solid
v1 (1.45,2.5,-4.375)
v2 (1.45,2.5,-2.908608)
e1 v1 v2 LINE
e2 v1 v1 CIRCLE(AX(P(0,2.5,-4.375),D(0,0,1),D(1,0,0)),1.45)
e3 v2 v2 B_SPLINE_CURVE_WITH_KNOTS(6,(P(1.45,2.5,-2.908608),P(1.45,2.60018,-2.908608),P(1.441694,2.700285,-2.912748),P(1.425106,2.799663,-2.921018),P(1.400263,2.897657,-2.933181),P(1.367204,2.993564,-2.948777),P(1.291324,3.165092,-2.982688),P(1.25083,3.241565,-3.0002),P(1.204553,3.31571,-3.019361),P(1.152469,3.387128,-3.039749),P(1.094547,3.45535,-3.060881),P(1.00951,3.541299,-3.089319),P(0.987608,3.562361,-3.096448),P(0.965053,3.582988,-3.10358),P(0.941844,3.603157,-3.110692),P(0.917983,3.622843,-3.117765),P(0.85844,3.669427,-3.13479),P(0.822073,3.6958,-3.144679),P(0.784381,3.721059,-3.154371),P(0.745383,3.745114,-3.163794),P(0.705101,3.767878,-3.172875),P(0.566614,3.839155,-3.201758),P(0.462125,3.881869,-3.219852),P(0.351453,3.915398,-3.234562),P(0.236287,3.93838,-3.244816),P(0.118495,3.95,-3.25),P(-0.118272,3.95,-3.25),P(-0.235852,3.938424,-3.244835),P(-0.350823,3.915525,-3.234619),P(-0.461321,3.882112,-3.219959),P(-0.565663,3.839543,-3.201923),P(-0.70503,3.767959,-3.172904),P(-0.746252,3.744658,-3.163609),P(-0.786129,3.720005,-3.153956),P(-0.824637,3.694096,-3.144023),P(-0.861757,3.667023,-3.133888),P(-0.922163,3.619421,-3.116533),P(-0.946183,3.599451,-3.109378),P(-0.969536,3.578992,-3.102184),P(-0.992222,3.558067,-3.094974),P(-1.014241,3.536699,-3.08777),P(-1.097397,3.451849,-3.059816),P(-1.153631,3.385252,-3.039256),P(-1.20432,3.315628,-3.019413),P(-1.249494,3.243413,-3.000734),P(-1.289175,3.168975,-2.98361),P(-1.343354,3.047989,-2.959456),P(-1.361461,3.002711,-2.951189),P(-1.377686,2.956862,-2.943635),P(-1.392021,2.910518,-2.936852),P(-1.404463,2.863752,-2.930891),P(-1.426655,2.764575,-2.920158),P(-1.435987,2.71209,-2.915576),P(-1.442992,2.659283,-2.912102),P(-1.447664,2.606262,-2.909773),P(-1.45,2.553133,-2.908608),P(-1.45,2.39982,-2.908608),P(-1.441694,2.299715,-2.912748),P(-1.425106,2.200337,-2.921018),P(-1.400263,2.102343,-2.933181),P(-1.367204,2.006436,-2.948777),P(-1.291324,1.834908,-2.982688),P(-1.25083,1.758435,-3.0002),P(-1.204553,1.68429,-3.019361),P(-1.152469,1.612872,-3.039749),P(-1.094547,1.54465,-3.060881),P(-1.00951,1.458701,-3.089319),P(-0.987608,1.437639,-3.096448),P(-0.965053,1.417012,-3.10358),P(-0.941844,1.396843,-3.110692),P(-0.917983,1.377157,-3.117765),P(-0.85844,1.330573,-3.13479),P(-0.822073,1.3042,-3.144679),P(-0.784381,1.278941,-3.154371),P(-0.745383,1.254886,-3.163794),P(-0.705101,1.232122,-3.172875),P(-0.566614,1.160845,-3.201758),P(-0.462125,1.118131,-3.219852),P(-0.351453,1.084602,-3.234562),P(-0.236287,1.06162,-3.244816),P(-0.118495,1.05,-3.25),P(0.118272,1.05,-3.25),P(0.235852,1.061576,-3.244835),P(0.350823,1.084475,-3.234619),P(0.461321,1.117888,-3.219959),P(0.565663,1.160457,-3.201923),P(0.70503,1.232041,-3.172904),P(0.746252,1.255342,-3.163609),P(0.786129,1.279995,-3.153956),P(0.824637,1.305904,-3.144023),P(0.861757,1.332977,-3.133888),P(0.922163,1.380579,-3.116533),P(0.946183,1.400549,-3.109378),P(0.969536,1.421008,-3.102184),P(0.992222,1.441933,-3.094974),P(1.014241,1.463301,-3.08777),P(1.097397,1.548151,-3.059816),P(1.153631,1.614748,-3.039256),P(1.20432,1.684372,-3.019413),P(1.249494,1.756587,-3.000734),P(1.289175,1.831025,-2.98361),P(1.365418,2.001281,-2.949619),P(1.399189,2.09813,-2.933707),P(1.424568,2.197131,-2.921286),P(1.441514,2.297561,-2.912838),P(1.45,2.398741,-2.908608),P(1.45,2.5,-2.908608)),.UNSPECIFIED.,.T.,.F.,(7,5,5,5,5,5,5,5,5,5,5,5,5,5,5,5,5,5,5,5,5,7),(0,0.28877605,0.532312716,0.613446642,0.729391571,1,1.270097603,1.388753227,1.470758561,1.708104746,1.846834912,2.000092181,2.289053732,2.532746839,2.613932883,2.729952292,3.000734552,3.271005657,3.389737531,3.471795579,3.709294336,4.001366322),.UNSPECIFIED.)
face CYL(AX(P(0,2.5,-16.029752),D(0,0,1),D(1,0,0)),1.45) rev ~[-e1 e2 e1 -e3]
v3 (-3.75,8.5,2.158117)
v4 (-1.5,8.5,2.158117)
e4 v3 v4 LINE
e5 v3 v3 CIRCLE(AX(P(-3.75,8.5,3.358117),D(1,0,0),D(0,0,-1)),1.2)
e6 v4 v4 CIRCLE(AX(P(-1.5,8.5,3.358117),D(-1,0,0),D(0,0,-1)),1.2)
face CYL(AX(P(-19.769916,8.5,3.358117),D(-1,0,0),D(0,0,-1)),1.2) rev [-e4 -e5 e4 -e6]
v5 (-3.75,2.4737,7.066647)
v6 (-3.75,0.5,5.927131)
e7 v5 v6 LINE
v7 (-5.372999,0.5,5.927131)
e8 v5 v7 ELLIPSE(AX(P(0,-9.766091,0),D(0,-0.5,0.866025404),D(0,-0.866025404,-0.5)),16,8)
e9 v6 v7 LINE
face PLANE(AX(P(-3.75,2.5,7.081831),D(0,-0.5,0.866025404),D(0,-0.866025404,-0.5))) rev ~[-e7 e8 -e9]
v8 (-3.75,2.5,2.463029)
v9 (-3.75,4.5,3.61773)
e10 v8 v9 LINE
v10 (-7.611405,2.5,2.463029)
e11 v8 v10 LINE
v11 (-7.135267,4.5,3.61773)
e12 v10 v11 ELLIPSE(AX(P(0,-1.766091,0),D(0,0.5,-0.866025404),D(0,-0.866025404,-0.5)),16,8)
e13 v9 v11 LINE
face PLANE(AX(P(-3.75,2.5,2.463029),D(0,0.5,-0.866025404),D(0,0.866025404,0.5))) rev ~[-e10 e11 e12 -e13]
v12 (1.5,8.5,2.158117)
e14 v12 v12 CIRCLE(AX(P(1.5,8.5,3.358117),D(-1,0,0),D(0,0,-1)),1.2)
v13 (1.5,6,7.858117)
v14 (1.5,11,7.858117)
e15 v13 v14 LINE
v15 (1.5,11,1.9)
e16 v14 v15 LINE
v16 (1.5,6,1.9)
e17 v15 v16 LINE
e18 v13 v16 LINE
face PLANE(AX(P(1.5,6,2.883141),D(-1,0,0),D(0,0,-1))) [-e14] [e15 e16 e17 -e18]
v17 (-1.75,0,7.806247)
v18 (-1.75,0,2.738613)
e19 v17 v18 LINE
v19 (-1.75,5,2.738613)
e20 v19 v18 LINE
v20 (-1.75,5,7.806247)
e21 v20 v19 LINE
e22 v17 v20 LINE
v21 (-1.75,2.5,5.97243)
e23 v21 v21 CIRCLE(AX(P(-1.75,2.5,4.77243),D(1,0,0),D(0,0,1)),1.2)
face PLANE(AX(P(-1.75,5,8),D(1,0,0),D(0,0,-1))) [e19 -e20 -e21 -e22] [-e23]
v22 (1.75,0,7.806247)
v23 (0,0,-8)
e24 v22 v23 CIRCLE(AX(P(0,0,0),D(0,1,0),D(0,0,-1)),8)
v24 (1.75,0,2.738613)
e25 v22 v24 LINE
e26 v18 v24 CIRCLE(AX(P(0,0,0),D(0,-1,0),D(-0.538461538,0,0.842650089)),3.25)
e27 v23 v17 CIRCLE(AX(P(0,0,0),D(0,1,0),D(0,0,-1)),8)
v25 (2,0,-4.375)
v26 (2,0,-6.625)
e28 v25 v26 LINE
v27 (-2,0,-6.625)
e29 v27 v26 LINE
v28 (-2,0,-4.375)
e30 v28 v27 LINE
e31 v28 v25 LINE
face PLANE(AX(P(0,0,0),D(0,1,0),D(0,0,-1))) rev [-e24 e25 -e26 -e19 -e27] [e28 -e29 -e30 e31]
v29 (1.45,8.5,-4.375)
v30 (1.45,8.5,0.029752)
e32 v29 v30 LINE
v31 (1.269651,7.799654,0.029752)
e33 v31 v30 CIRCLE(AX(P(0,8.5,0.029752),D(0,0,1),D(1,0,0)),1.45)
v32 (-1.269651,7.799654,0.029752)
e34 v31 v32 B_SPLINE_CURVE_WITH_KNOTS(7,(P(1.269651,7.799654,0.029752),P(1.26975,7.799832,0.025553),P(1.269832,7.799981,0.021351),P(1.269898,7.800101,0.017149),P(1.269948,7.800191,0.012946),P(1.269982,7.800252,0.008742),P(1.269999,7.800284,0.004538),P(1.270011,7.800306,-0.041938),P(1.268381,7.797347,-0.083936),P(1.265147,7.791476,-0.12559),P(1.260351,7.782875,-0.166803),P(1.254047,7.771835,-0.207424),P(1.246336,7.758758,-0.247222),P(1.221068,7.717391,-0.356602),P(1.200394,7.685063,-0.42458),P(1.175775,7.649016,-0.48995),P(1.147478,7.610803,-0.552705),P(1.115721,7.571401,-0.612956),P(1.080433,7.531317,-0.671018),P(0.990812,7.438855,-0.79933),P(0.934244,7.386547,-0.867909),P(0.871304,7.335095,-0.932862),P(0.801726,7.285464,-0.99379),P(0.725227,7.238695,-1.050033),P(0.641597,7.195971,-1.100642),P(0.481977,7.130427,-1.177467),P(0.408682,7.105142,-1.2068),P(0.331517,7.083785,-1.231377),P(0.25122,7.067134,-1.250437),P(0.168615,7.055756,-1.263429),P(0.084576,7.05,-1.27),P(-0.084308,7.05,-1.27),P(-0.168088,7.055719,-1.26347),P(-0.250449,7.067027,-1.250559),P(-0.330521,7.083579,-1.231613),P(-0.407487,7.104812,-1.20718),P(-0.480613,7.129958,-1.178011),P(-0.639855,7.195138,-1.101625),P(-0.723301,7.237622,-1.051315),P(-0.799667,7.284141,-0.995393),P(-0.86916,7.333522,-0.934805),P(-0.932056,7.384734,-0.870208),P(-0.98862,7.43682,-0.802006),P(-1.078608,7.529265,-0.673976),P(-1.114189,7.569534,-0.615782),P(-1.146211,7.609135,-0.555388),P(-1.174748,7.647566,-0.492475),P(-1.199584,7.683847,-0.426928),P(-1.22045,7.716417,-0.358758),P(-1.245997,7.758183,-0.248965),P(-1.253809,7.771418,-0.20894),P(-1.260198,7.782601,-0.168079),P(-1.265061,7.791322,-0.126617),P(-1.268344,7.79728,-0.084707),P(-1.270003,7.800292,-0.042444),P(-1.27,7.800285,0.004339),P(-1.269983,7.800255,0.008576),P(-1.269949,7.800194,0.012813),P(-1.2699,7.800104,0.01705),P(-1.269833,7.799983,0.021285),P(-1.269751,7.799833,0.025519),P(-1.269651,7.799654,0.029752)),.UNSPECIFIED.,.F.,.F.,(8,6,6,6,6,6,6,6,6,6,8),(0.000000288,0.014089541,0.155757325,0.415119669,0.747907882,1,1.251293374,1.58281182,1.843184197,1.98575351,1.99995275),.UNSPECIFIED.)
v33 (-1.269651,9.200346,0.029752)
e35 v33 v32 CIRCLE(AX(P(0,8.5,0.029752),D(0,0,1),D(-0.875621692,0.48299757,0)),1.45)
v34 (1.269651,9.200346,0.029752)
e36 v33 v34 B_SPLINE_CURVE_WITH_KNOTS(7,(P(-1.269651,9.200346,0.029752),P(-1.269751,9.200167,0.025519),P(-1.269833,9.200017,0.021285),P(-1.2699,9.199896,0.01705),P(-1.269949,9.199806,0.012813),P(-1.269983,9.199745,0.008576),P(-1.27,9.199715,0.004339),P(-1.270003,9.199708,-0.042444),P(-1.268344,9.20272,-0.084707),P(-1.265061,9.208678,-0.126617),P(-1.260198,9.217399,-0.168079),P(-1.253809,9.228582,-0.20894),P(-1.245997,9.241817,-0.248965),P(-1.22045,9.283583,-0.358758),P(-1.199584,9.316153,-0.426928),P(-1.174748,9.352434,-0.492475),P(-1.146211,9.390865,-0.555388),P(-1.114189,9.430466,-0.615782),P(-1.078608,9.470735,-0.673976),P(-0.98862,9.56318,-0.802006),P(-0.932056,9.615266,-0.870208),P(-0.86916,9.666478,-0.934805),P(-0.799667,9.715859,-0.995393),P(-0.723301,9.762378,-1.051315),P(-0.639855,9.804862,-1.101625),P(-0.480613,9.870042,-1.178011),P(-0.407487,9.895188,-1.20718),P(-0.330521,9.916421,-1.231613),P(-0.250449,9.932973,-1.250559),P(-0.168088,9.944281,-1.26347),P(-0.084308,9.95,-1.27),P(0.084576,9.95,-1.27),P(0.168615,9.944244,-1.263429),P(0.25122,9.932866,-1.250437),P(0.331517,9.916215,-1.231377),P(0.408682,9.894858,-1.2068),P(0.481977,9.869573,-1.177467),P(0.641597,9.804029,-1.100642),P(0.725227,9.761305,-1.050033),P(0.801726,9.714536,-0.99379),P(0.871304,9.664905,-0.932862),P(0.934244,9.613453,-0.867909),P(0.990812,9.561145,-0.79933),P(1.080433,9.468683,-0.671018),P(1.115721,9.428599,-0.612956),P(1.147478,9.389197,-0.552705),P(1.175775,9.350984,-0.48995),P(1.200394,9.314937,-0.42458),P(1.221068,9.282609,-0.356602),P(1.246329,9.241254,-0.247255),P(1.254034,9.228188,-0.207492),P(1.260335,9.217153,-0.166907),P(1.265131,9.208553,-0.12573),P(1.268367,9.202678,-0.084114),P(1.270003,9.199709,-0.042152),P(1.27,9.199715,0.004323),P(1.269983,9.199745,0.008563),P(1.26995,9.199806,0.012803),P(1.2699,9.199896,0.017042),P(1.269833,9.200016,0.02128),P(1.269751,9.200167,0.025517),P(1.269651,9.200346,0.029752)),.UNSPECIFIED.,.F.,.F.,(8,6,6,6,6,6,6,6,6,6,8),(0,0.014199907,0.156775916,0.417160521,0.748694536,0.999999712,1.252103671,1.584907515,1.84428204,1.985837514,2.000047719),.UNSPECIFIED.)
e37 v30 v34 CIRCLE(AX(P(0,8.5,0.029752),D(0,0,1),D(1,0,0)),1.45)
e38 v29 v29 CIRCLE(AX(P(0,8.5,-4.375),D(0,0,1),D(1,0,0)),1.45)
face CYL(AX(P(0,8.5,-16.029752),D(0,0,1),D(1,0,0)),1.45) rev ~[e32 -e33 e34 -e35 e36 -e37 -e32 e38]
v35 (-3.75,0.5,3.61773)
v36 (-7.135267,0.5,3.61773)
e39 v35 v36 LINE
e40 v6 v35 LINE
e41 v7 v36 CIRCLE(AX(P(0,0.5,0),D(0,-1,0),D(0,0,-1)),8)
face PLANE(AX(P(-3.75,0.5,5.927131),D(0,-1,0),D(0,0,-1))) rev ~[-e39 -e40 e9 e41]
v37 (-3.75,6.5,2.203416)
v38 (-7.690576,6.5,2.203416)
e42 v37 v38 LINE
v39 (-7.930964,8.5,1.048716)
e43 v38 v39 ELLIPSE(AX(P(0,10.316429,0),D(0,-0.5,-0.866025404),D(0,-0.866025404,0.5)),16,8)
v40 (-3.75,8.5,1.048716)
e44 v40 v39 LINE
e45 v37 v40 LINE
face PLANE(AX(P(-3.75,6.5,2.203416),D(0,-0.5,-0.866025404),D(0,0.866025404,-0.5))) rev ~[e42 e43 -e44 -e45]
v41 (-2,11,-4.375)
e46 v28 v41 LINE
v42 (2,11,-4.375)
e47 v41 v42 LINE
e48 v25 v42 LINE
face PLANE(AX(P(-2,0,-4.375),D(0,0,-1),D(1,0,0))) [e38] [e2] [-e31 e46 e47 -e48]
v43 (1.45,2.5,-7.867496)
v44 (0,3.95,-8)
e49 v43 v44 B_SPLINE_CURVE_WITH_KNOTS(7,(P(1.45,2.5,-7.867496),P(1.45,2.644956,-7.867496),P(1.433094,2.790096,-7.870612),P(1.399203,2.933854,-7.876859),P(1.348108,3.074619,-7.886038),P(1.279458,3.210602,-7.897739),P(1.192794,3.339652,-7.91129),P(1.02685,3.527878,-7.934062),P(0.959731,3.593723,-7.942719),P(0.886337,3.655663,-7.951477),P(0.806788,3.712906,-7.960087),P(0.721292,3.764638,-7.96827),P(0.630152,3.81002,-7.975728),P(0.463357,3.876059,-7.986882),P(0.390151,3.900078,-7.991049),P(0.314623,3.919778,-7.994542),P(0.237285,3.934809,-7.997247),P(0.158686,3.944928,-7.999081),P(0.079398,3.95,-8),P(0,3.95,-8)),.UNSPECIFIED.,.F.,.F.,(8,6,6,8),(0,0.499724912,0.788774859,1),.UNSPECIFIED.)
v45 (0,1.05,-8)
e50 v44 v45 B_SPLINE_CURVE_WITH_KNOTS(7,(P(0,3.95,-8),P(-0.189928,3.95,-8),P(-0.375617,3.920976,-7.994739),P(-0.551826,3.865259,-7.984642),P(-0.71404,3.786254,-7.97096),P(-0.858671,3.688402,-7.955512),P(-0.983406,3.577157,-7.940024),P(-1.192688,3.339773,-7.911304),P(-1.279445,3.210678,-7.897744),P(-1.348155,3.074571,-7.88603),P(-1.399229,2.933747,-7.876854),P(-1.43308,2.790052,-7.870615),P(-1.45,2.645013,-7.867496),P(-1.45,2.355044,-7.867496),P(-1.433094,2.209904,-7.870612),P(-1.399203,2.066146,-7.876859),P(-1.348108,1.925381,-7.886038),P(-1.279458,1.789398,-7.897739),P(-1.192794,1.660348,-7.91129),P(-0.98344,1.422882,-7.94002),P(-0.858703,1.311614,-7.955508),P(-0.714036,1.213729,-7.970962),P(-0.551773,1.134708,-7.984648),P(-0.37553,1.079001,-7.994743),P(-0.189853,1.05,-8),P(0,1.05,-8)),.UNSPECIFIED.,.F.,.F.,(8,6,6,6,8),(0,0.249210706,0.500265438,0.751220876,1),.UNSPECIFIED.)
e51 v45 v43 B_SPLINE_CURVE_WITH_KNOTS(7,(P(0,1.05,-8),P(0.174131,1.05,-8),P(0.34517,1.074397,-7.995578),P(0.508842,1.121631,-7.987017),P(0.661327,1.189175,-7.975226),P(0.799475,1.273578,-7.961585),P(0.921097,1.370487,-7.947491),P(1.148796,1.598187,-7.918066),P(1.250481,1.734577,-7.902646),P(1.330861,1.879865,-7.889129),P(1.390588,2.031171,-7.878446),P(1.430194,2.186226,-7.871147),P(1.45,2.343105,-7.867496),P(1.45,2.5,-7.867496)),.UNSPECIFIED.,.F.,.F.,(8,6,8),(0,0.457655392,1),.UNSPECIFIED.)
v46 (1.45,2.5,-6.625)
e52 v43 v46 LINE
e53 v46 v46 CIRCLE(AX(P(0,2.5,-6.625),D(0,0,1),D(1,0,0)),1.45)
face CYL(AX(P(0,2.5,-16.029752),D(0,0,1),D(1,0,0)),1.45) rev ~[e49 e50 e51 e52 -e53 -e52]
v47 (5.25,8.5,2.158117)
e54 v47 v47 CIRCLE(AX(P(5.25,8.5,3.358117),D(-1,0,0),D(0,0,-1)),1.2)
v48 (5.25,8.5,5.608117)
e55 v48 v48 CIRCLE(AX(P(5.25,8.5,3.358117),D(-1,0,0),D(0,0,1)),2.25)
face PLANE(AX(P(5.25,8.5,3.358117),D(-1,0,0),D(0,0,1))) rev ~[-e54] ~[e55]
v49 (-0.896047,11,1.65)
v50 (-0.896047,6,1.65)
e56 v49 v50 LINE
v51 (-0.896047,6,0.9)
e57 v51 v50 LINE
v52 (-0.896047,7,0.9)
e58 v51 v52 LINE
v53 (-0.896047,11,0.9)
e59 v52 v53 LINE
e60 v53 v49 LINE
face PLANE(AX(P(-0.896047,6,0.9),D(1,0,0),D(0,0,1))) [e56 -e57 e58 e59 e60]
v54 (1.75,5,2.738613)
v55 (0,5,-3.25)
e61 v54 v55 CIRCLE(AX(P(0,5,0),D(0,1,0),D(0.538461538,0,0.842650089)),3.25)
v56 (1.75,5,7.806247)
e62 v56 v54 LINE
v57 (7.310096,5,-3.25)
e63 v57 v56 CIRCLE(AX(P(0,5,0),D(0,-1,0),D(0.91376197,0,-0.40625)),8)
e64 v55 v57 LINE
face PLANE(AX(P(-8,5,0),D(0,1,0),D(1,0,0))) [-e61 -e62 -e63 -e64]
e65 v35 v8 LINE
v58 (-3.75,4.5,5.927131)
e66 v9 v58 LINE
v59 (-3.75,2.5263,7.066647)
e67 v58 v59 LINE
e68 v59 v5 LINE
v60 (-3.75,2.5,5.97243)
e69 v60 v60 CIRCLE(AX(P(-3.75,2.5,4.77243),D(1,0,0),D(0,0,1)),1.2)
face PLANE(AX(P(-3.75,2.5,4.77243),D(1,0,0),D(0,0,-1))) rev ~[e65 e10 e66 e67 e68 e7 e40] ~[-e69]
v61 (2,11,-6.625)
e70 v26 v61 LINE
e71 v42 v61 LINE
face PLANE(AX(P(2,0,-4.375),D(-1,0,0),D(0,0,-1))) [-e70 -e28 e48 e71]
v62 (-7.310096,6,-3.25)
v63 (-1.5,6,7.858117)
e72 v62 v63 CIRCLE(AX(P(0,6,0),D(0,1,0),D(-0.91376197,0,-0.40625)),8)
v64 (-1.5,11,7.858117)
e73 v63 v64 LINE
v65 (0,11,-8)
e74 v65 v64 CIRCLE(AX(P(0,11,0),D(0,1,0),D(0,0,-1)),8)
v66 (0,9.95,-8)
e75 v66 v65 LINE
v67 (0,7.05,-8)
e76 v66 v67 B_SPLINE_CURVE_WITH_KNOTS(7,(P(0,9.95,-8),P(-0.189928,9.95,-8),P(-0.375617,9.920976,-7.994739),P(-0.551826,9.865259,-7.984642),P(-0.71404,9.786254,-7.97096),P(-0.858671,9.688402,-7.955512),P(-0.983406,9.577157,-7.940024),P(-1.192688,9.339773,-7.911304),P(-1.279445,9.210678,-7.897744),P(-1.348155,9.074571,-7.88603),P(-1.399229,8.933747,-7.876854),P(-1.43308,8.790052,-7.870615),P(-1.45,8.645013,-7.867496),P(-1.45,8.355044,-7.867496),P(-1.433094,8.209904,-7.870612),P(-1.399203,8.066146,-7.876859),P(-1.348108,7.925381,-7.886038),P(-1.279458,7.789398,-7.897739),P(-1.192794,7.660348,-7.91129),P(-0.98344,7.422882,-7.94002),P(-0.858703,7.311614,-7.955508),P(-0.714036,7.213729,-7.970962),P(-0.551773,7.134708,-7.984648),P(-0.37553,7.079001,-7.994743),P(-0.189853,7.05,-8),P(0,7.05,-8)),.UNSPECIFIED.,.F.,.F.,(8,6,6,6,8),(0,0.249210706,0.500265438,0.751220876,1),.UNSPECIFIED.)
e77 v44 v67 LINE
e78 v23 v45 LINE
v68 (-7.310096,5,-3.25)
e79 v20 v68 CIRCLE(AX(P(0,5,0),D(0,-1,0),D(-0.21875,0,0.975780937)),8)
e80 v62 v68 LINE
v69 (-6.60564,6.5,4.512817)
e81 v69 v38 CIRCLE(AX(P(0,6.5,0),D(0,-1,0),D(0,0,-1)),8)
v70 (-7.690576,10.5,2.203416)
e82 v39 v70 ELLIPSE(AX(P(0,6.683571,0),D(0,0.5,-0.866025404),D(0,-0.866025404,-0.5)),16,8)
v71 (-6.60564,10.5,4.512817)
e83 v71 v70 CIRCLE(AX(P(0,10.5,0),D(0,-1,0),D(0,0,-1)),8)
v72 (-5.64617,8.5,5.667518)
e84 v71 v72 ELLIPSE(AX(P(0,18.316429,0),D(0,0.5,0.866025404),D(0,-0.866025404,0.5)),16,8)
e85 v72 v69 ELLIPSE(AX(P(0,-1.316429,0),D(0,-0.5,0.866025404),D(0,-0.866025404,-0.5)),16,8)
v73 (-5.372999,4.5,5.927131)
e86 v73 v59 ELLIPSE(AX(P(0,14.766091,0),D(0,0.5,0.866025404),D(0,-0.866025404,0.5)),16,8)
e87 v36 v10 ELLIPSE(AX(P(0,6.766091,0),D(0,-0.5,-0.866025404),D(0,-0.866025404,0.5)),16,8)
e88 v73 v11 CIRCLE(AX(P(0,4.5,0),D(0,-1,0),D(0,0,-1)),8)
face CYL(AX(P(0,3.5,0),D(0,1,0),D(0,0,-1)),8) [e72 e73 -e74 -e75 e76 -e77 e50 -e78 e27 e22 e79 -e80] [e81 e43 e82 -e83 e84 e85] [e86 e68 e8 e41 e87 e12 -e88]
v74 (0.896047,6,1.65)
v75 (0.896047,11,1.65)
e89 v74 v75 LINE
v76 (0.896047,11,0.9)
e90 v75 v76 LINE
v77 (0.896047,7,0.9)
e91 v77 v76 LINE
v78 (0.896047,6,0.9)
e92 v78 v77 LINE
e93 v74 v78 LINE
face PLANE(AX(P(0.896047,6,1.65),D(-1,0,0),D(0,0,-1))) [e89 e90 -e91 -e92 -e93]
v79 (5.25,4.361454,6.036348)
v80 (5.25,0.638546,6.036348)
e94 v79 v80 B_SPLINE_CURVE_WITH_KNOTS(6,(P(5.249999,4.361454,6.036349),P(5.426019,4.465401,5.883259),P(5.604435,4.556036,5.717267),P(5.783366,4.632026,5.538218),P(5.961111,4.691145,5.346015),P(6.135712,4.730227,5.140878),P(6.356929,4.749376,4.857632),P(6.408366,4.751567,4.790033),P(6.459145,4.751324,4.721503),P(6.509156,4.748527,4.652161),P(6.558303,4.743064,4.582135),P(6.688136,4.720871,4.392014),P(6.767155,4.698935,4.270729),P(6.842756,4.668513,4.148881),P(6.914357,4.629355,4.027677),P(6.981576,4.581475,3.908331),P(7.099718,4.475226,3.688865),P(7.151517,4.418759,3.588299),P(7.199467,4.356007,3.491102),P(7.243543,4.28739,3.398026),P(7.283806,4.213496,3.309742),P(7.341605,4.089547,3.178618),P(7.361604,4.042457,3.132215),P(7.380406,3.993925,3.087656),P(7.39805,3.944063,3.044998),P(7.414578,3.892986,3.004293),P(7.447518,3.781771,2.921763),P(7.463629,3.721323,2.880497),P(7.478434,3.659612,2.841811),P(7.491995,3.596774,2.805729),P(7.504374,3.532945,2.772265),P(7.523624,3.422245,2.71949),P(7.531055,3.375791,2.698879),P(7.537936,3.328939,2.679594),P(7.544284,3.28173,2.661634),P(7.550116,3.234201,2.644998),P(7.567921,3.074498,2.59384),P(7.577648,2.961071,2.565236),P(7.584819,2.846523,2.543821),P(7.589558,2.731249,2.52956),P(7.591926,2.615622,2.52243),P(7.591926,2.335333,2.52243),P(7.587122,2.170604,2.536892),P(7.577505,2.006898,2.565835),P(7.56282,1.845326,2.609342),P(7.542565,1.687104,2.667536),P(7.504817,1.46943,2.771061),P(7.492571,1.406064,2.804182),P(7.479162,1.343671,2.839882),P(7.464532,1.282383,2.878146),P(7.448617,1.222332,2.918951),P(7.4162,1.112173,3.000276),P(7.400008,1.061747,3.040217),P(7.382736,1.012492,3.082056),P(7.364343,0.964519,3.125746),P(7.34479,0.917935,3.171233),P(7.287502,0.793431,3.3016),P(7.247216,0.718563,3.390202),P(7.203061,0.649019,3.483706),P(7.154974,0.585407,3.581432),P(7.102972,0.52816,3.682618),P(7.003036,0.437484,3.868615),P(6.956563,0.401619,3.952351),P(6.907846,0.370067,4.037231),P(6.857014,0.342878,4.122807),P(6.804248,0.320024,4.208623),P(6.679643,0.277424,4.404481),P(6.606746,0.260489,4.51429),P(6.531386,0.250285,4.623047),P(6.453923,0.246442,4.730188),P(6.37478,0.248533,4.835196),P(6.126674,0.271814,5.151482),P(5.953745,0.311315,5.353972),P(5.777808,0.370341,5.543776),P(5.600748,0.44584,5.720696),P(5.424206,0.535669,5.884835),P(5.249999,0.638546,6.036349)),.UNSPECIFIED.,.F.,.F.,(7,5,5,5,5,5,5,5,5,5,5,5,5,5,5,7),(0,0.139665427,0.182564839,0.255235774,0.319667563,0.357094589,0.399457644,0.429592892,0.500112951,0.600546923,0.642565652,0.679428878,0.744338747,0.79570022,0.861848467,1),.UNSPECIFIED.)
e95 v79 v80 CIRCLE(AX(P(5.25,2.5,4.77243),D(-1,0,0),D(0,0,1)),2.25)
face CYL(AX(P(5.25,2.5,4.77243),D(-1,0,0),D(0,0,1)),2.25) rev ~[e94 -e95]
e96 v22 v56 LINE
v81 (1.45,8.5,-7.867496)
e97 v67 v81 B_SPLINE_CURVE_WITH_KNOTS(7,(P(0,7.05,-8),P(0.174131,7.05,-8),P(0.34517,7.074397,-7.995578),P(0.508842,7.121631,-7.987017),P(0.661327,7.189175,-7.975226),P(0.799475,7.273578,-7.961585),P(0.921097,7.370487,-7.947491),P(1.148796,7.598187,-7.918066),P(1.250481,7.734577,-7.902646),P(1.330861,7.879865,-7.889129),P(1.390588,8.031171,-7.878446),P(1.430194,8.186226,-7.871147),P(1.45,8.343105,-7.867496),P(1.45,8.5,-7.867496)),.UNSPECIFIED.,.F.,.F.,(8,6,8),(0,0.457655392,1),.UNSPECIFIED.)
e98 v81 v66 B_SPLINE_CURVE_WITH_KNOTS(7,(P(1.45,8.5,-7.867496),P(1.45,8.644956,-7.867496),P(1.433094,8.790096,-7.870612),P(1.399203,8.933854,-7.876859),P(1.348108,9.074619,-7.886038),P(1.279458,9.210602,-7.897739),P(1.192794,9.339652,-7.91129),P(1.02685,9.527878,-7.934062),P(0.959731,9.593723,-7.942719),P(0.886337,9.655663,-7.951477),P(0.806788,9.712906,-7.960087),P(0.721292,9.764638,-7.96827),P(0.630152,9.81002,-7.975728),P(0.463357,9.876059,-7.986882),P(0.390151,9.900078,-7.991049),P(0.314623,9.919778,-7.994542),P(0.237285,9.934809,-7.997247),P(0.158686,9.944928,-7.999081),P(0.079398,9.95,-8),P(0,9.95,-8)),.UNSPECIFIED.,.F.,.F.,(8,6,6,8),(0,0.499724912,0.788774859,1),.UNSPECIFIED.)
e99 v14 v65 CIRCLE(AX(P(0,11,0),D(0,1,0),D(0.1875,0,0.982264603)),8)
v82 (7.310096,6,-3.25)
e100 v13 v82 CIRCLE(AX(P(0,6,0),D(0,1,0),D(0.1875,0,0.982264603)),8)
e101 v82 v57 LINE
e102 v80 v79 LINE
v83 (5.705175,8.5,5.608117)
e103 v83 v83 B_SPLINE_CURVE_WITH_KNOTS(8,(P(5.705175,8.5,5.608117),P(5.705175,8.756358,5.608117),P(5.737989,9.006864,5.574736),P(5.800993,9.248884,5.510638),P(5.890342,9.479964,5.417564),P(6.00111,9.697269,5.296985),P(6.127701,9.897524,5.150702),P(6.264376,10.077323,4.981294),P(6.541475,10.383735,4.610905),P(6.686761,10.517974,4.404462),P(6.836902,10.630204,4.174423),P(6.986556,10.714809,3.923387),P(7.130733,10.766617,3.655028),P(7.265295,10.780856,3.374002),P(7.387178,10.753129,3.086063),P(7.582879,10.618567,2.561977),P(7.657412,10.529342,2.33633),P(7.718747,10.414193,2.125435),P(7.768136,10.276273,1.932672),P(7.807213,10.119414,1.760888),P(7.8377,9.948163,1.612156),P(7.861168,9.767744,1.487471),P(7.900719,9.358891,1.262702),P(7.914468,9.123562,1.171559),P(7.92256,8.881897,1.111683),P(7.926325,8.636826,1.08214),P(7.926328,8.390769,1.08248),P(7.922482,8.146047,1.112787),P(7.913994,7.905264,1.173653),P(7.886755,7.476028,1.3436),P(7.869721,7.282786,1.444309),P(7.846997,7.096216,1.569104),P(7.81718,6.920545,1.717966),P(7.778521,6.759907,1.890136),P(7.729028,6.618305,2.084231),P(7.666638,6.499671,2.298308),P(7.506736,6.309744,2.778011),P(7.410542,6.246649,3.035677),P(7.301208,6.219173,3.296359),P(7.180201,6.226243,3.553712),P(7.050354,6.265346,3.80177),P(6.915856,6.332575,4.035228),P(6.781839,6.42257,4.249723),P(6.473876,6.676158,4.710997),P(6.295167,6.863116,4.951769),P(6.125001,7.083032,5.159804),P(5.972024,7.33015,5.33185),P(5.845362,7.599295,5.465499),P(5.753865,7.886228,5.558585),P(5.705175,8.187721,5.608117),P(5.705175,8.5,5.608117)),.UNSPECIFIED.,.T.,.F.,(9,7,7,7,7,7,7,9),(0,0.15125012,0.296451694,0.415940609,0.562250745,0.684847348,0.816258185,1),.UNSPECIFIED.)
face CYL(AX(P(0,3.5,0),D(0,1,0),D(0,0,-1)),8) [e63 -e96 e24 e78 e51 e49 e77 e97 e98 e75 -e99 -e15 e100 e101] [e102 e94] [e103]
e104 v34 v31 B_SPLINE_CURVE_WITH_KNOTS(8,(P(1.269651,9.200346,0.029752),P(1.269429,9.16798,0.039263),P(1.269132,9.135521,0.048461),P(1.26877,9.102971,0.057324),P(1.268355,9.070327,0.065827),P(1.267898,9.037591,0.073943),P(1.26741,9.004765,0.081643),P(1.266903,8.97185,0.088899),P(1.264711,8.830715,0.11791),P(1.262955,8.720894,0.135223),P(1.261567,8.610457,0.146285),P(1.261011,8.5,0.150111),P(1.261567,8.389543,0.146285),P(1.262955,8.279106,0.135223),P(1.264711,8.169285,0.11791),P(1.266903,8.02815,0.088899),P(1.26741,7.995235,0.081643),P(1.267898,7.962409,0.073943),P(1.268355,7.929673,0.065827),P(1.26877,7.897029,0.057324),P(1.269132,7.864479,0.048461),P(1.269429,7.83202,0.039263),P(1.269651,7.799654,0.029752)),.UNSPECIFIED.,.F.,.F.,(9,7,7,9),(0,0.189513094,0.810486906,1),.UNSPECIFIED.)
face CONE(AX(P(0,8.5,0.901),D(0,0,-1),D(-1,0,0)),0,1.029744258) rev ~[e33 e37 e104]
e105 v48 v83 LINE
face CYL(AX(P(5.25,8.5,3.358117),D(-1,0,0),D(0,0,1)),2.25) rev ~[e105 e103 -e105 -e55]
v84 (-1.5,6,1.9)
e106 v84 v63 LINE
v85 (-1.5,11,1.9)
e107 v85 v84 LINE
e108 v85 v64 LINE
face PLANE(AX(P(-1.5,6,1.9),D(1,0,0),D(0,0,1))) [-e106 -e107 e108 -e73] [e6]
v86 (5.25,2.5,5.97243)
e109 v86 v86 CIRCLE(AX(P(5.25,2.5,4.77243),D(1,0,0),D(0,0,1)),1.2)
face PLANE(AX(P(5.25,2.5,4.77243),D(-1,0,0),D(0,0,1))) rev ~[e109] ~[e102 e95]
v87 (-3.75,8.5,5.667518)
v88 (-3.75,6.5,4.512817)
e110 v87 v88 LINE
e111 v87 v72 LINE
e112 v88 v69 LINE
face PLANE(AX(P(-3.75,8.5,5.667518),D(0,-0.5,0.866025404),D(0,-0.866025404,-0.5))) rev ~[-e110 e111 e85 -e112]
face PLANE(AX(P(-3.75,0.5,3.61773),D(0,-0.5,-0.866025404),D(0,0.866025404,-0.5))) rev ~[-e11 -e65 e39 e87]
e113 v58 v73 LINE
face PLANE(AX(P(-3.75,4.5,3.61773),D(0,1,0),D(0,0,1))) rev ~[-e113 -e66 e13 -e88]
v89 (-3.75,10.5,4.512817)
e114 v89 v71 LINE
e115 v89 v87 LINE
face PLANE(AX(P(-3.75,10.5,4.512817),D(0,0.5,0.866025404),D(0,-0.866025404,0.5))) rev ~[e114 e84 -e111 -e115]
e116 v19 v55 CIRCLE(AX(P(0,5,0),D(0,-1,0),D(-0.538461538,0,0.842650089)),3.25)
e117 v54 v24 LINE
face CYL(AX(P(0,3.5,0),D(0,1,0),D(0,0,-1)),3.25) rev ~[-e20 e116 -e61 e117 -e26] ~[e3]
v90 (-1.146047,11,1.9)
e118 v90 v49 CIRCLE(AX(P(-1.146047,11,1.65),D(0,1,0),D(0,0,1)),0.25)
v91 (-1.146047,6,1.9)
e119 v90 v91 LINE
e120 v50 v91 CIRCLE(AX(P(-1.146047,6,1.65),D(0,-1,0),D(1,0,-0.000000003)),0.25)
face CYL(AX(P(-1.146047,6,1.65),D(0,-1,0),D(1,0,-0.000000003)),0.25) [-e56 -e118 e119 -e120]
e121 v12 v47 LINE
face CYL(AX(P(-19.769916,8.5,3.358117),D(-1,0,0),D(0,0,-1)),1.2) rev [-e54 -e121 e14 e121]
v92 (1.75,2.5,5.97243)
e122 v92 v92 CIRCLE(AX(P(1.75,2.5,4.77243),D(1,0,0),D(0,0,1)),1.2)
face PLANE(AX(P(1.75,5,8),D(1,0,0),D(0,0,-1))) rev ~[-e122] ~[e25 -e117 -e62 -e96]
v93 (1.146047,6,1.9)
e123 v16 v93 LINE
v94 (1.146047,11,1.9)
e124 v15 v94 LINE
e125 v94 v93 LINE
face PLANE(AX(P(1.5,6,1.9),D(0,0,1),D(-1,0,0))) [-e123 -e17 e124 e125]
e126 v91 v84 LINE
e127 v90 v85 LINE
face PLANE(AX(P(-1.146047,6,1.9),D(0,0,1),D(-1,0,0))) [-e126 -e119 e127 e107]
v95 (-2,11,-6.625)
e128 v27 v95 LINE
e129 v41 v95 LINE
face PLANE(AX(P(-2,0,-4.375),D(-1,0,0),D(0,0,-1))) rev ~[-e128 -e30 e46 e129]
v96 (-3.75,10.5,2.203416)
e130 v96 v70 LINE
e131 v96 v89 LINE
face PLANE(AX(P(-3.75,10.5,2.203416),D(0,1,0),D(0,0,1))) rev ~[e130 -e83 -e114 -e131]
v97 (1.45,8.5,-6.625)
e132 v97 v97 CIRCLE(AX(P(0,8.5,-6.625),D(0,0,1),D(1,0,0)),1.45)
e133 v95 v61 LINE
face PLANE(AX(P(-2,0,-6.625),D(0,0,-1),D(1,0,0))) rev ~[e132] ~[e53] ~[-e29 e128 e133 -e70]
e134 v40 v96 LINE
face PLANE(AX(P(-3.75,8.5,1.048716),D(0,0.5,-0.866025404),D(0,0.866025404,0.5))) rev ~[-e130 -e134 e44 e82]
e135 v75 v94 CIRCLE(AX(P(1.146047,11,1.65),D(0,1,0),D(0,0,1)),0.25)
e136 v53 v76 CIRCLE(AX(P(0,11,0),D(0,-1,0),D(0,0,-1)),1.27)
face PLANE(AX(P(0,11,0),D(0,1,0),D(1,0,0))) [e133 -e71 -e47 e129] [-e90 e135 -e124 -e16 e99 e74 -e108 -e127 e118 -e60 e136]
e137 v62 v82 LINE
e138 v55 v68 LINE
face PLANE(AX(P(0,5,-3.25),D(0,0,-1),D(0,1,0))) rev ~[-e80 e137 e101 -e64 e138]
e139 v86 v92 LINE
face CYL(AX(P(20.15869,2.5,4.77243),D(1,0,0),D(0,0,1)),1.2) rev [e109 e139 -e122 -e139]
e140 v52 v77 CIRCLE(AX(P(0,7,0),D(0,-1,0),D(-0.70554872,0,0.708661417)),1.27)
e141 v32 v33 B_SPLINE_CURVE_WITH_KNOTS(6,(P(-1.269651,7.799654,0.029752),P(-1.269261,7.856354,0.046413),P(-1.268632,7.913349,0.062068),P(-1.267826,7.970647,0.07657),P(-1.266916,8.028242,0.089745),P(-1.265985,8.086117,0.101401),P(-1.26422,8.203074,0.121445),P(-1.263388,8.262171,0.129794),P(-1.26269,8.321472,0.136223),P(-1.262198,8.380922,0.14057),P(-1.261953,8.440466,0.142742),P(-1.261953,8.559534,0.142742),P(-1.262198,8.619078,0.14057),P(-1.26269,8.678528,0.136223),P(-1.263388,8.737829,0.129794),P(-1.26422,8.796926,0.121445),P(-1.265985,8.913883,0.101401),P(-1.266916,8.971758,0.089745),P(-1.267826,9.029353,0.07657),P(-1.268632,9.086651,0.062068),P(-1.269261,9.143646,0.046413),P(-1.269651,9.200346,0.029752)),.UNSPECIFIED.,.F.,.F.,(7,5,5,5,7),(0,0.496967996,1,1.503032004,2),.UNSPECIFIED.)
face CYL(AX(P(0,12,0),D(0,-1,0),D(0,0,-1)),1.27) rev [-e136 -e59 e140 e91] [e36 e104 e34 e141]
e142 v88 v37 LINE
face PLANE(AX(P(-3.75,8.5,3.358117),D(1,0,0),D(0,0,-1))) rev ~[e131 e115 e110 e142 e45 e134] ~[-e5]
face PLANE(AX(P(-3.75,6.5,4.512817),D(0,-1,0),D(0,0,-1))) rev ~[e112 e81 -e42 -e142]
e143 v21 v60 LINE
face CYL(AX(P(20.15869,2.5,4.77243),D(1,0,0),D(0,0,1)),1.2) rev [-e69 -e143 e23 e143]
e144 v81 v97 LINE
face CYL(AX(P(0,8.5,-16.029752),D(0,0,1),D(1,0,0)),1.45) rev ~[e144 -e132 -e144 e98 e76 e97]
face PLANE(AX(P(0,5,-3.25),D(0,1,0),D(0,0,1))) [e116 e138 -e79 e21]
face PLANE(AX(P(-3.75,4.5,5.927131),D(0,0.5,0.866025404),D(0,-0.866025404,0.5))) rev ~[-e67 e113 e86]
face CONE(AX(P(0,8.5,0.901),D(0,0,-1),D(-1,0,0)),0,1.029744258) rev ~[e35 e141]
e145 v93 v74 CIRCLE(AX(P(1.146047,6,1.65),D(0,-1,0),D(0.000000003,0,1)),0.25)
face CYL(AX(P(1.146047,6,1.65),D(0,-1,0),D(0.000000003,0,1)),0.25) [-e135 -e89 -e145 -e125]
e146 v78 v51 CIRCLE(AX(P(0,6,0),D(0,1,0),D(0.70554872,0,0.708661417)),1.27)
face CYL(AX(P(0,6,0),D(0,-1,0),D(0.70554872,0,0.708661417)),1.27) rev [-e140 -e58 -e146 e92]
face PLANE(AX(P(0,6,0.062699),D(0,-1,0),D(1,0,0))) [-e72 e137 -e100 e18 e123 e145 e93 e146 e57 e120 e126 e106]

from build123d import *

# Parameters (mm, degrees)
SKETCH1_W                            = 4.75
SKETCH1_H                            = 7
FILLET1_R                            = 1
SKETCH16_W                           = 16
SKETCH16_H                           = 1
CUT_EXTRUDE5_DEPTH                   = 1
CUT_EXTRUDE5_DIRECTION_2_REACH       = 18.492
CUT_EXTRUDE6_REACH                   = 15.304
SKETCH17_W                           = 3.5
SKETCH17_H                           = 5.261387212
CUT_EXTRUDE7_DEPTH                   = 18.408690359
CUT_EXTRUDE7_DEPTH_BACK              = 18.408690359
SKETCH18_R                           = 1.2
CUT_EXTRUDE10_START                  = -6
SKETCH21_R                           = 1.27
CUT_EXTRUDE10_DEPTH                  = 6
CUT_EXTRUDE11_DEPTH                  = 18.26991621
CUT_EXTRUDE11_DEPTH_BACK             = 18.26991621
SKETCH22_R                           = 1.2
CUT_EXTRUDE9_REACH                   = 20.603
CUT_EXTRUDE9_END_RADIUS              = 8
SKETCH20_R                           = 1.2
CUT_EXTRUDE12_REACH                  = 21.585
SKETCH19_R                           = 2.25
CUT_EXTRUDE13_REACH                  = 21.585
CUT_EXTRUDE13_END_RADIUS             = 8
SKETCH24_R                           = 2.25
CUT_EXTRUDE14_REACH                  = 18.492
CUT_EXTRUDE14_END_RADIUS             = 8
SKETCH25_W                           = 2.25
SKETCH25_H                           = 1
CUT_EXTRUDE14_DIRECTION_2_REACH      = 18.492
CUT_EXTRUDE14_DIRECTION_2_END_RADIUS = 8
M2_5_CLEARANCE_HOLE1_D               = 2.9
M2_5_CLEARANCE_HOLE1_DEPTH           = 8.029752102
M2_5_CLEARANCE_HOLE1_TIP             = 0.871247898
CUT_EXTRUDE15_START                  = -12
SKETCH29_W                           = 4
SKETCH29_H                           = 2.25
CUT_EXTRUDE15_DEPTH                  = 12
FILLET3_R                            = 0.25
SKETCH30_R                           = 8
CUT_EXTRUDE19_DEPTH                  = 1
BOSS_EXTRUDE1_START                  = 1
BOSS_EXTRUDE1_DEPTH                  = 1


with BuildPart() as part:
    # Sketch1 → Revolve1 (revolve)
    with BuildSketch(Plane.XY, mode=Mode.PRIVATE) as revolve1_sk:
        with Locations((5.625, 3.5)):
            Rectangle(SKETCH1_W, SKETCH1_H)
    revolve(revolve1_sk.sketch.rotate(Axis((0, 0, 0), (0, 1, 0)), 90), axis=Axis((0, 0, 0), (0, 1, 0)))

    # Sketch1<3> → Revolve2 (revolve)
    with BuildSketch(Plane.XY, mode=Mode.PRIVATE) as revolve2_sk:
        Polygon((1.27, 7), (3.25, 7), (8, 7), (8, 12), (1.27, 12), align=None)
    revolve(revolve2_sk.sketch.rotate(Axis((0, 0, 0), (0, 1, 0)), 90), axis=Axis((0, 0, 0), (0, 1, 0)))

    # Fillet1
    fillet1_edges = [part.edges().sort_by_distance(p)[0] for p in [
        (0, 12, 8),
    ]]
    fillet(fillet1_edges, radius=FILLET1_R)

    # Sketch16 → Cut-Extrude5 (cut)
    with BuildSketch(Plane.XY):
        with Locations((0, 5.5)):
            Rectangle(SKETCH16_W, SKETCH16_H)
    extrude(amount=-CUT_EXTRUDE5_DEPTH, mode=Mode.SUBTRACT)

    # Sketch16 → Cut-Extrude5 direction 2 (cut, up to next)
    with BuildSketch(Plane.XY, mode=Mode.PRIVATE) as cut_extrude5_direction_2_sk1:
        with Locations((0, 5.5)):
            Rectangle(SKETCH16_W, SKETCH16_H)
    cut_extrude5_direction_2_tool1 = extrude(cut_extrude5_direction_2_sk1.sketch, amount=CUT_EXTRUDE5_DIRECTION_2_REACH, mode=Mode.PRIVATE) & part.part
    add(cut_extrude5_direction_2_tool1.solids().sort_by_distance((0, 5.5, 0))[0], mode=Mode.SUBTRACT)

    # Sketch17 → Cut-Extrude6 (cut, up to next)
    with BuildSketch(Plane(origin=(0, 5, 0), x_dir=(1, 0, 0), z_dir=(0, 1, 0)), mode=Mode.PRIVATE) as cut_extrude6_sk1:
        with Locations((0, -5.369306394)):
            Rectangle(SKETCH17_W, SKETCH17_H)
    cut_extrude6_tool1 = extrude(cut_extrude6_sk1.sketch, amount=-CUT_EXTRUDE6_REACH, mode=Mode.PRIVATE) & part.part
    add(cut_extrude6_tool1.solids().sort_by_distance((0, 5, 5.369306))[0], mode=Mode.SUBTRACT)

    # Sketch18 → Cut-Extrude7 (cut, two sides: drawn at the far end of the back side and taken through both)
    with BuildSketch(Plane.ZY.offset(-1.75).offset(-CUT_EXTRUDE7_DEPTH_BACK)):
        with Locations((4.772430143, 2.5)):
            Circle(SKETCH18_R)
    extrude(amount=CUT_EXTRUDE7_DEPTH + CUT_EXTRUDE7_DEPTH_BACK, mode=Mode.SUBTRACT)

    # Sketch21 → Cut-Extrude10 (cut)
    with BuildSketch(Plane(origin=(0, 12, 0), x_dir=(1, 0, 0), z_dir=(0, 1, 0)).offset(CUT_EXTRUDE10_START)):
        Circle(SKETCH21_R)
        Polygon((-1.5, -1.9), (-1.5, -11.891029443), (1.5, -11.891029443), (1.5, -1.9), (0.896046874, -1.9), (0.896046874, -0.9), (-0.896046874, -0.9), (-0.896046874, -1.9), align=None)
    extrude(amount=CUT_EXTRUDE10_DEPTH, mode=Mode.SUBTRACT)

    # Sketch22 → Cut-Extrude11 (cut, two sides: drawn at the far end of the back side and taken through both)
    with BuildSketch(Plane(origin=(-1.5, 0, 0), x_dir=(0, 0, -1), z_dir=(1, 0, 0)).offset(-CUT_EXTRUDE11_DEPTH_BACK)):
        with Locations((-3.358116823, 8.5)):
            Circle(SKETCH22_R)
    extrude(amount=CUT_EXTRUDE11_DEPTH + CUT_EXTRUDE11_DEPTH_BACK, mode=Mode.SUBTRACT)

    # Cut-Extrude9: up to this cylinder (the profile starts inside it)
    cut_extrude9_end = Plane(origin=(0, 5.9847245, 0), z_dir=(0, -1, 0)) * Cylinder(CUT_EXTRUDE9_END_RADIUS, 65.175449, mode=Mode.PRIVATE)
    # Sketch20 → Cut-Extrude9 (cut, up to the surface)
    with BuildSketch(Plane(origin=(-3.75, 0, 0), x_dir=(0, 0, -1), z_dir=(1, 0, 0)), mode=Mode.PRIVATE) as cut_extrude9_sk1:
        Polygon((-2.463029066, 2.5), (-3.617729604, 4.5), (-5.927130681, 4.5), (-7.08183122, 2.5), (-5.927130681, 0.5), (-3.617729604, 0.5), align=None)
    cut_extrude9_tool1 = extrude(cut_extrude9_sk1.sketch, amount=-CUT_EXTRUDE9_REACH, mode=Mode.PRIVATE) & cut_extrude9_end
    add(cut_extrude9_tool1.solids().sort_by_distance((-3.75, 2.5, 4.77243))[0], mode=Mode.SUBTRACT)
    # Sketch20 → Cut-Extrude9 (cut, up to the surface)
    with BuildSketch(Plane(origin=(-3.75, 0, 0), x_dir=(0, 0, -1), z_dir=(1, 0, 0)), mode=Mode.PRIVATE) as cut_extrude9_sk2:
        Polygon((-1.048715746, 8.5), (-2.203416284, 10.5), (-4.512817361, 10.5), (-5.6675179, 8.5), (-4.512817361, 6.5), (-2.203416284, 6.5), align=None)
        with Locations((-3.358116823, 8.5)):
            Circle(SKETCH20_R, mode=Mode.SUBTRACT)
    cut_extrude9_tool2 = extrude(cut_extrude9_sk2.sketch, amount=-CUT_EXTRUDE9_REACH, mode=Mode.PRIVATE) & cut_extrude9_end
    add(cut_extrude9_tool2.solids().sort_by_distance((-3.75, 9.469449, 1.678981))[0], mode=Mode.SUBTRACT)

    # Sketch19 → Cut-Extrude12 (cut, up to next)
    with BuildSketch(Plane.ZY.offset(-5.25), mode=Mode.PRIVATE) as cut_extrude12_sk1:
        with Locations((4.772430143, 2.5)):
            Circle(SKETCH19_R)
    cut_extrude12_tool1 = extrude(cut_extrude12_sk1.sketch, amount=-CUT_EXTRUDE12_REACH, mode=Mode.PRIVATE) & part.part
    add(cut_extrude12_tool1.solids().sort_by_distance((5.25, 2.5, 4.77243))[0], mode=Mode.SUBTRACT)

    # Cut-Extrude13: up to this cylinder (the profile starts inside it)
    cut_extrude13_end = Plane(origin=(0, 8.5, 0), z_dir=(0, -1, 0)) * Cylinder(CUT_EXTRUDE13_END_RADIUS, 60.17, mode=Mode.PRIVATE)
    # Sketch24 → Cut-Extrude13 (cut, up to the surface)
    with BuildSketch(Plane.ZY.offset(-5.25), mode=Mode.PRIVATE) as cut_extrude13_sk1:
        with Locations((3.358116823, 8.5)):
            Circle(SKETCH24_R)
    cut_extrude13_tool1 = extrude(cut_extrude13_sk1.sketch, amount=-CUT_EXTRUDE13_REACH, mode=Mode.PRIVATE) & cut_extrude13_end
    add(cut_extrude13_tool1.solids().sort_by_distance((5.25, 8.5, 3.358117))[0], mode=Mode.SUBTRACT)

    # Cut-Extrude14: up to this cylinder (the profile starts inside it)
    cut_extrude14_end = Plane(origin=(0, 5.5, 0), z_dir=(0, -1, 0)) * Cylinder(CUT_EXTRUDE14_END_RADIUS, 53.984, mode=Mode.PRIVATE)
    # Sketch25 → Cut-Extrude14 (cut, up to the surface)
    with BuildSketch(Plane.ZY, mode=Mode.PRIVATE) as cut_extrude14_sk1:
        with Locations((-2.125, 5.5)):
            Rectangle(SKETCH25_W, SKETCH25_H)
    cut_extrude14_tool1 = extrude(cut_extrude14_sk1.sketch, amount=-CUT_EXTRUDE14_REACH, mode=Mode.PRIVATE) & cut_extrude14_end
    add(cut_extrude14_tool1.solids().sort_by_distance((0, 5.5, -2.125))[0], mode=Mode.SUBTRACT)

    # Cut-Extrude14 direction 2: up to this cylinder (the profile starts inside it)
    cut_extrude14_direction_2_end = Plane(origin=(0, 5.5, 0), z_dir=(0, -1, 0)) * Cylinder(CUT_EXTRUDE14_DIRECTION_2_END_RADIUS, 53.984, mode=Mode.PRIVATE)
    # Sketch25 → Cut-Extrude14 direction 2 (cut, up to the surface)
    with BuildSketch(Plane.ZY, mode=Mode.PRIVATE) as cut_extrude14_direction_2_sk1:
        with Locations((-2.125, 5.5)):
            Rectangle(SKETCH25_W, SKETCH25_H)
    cut_extrude14_direction_2_tool1 = extrude(cut_extrude14_direction_2_sk1.sketch, amount=CUT_EXTRUDE14_DIRECTION_2_REACH, mode=Mode.PRIVATE) & cut_extrude14_direction_2_end
    add(cut_extrude14_direction_2_tool1.solids().sort_by_distance((0, 5.5, -2.125))[0], mode=Mode.SUBTRACT)

    # M2.5 Clearance Hole1
    with Locations(Plane(origin=(0, 0, -8), x_dir=(-1, 0, 0), z_dir=(0, 0, -1))):
        with Locations((0, 8.5), (0, 2.5)):
            Hole(M2_5_CLEARANCE_HOLE1_D / 2, depth=M2_5_CLEARANCE_HOLE1_DEPTH)
            with Locations((0, 0, -(M2_5_CLEARANCE_HOLE1_DEPTH + M2_5_CLEARANCE_HOLE1_TIP / 2))):  # 118° drill point
                Cone(0, M2_5_CLEARANCE_HOLE1_D / 2, M2_5_CLEARANCE_HOLE1_TIP, mode=Mode.SUBTRACT)

    # Sketch29 → Cut-Extrude15 (cut)
    with BuildSketch(Plane(origin=(0, 12, 0), x_dir=(1, 0, 0), z_dir=(0, 1, 0)).offset(CUT_EXTRUDE15_START)):
        with Locations((0, 5.5)):
            Rectangle(SKETCH29_W, SKETCH29_H)
    extrude(amount=CUT_EXTRUDE15_DEPTH, mode=Mode.SUBTRACT)

    # Fillet3
    fillet3_edges = [part.edges().sort_by_distance(p)[0] for p in [
        (0.896046874, 9.5, 1.9),
        (-0.896046874, 9.5, 1.9),
    ]]
    fillet(fillet3_edges, radius=FILLET3_R)

    # Sketch30 → Cut-Extrude19 (cut)
    with BuildSketch(Plane(origin=(0, 12, 0), x_dir=(1, 0, 0), z_dir=(0, 1, 0))):
        Circle(SKETCH30_R)
    extrude(amount=-CUT_EXTRUDE19_DEPTH, mode=Mode.SUBTRACT)

    # Sketch31 → Boss-Extrude1 (add)
    with BuildSketch(Plane.XZ.offset(-7).offset(BOSS_EXTRUDE1_START)):
        with BuildLine():
            Line((-0.896046874, 0.9), (-0.896046874, 1.65))
            ThreePointArc((-0.896046874, 1.65), (-0.969270178, 1.826776695), (-1.146046874, 1.9))
            Line((-1.146046874, 1.9), (-1.5, 1.9))
            Line((-1.5, 1.9), (-1.5, 2.883140649))
            ThreePointArc((-1.5, 2.883140649), (0, -3.25), (1.5, 2.883140649))
            Line((1.5, 2.883140649), (1.5, 1.9))
            Line((1.5, 1.9), (1.146046874, 1.9))
            ThreePointArc((1.146046874, 1.9), (0.969270178, 1.826776695), (0.896046874, 1.65))
            Line((0.896046874, 1.65), (0.896046874, 0.9))
            ThreePointArc((0.896046874, 0.9), (0, -1.27), (-0.896046874, 0.9))
        make_face()
    extrude(amount=-BOSS_EXTRUDE1_DEPTH)


solid = part.part
